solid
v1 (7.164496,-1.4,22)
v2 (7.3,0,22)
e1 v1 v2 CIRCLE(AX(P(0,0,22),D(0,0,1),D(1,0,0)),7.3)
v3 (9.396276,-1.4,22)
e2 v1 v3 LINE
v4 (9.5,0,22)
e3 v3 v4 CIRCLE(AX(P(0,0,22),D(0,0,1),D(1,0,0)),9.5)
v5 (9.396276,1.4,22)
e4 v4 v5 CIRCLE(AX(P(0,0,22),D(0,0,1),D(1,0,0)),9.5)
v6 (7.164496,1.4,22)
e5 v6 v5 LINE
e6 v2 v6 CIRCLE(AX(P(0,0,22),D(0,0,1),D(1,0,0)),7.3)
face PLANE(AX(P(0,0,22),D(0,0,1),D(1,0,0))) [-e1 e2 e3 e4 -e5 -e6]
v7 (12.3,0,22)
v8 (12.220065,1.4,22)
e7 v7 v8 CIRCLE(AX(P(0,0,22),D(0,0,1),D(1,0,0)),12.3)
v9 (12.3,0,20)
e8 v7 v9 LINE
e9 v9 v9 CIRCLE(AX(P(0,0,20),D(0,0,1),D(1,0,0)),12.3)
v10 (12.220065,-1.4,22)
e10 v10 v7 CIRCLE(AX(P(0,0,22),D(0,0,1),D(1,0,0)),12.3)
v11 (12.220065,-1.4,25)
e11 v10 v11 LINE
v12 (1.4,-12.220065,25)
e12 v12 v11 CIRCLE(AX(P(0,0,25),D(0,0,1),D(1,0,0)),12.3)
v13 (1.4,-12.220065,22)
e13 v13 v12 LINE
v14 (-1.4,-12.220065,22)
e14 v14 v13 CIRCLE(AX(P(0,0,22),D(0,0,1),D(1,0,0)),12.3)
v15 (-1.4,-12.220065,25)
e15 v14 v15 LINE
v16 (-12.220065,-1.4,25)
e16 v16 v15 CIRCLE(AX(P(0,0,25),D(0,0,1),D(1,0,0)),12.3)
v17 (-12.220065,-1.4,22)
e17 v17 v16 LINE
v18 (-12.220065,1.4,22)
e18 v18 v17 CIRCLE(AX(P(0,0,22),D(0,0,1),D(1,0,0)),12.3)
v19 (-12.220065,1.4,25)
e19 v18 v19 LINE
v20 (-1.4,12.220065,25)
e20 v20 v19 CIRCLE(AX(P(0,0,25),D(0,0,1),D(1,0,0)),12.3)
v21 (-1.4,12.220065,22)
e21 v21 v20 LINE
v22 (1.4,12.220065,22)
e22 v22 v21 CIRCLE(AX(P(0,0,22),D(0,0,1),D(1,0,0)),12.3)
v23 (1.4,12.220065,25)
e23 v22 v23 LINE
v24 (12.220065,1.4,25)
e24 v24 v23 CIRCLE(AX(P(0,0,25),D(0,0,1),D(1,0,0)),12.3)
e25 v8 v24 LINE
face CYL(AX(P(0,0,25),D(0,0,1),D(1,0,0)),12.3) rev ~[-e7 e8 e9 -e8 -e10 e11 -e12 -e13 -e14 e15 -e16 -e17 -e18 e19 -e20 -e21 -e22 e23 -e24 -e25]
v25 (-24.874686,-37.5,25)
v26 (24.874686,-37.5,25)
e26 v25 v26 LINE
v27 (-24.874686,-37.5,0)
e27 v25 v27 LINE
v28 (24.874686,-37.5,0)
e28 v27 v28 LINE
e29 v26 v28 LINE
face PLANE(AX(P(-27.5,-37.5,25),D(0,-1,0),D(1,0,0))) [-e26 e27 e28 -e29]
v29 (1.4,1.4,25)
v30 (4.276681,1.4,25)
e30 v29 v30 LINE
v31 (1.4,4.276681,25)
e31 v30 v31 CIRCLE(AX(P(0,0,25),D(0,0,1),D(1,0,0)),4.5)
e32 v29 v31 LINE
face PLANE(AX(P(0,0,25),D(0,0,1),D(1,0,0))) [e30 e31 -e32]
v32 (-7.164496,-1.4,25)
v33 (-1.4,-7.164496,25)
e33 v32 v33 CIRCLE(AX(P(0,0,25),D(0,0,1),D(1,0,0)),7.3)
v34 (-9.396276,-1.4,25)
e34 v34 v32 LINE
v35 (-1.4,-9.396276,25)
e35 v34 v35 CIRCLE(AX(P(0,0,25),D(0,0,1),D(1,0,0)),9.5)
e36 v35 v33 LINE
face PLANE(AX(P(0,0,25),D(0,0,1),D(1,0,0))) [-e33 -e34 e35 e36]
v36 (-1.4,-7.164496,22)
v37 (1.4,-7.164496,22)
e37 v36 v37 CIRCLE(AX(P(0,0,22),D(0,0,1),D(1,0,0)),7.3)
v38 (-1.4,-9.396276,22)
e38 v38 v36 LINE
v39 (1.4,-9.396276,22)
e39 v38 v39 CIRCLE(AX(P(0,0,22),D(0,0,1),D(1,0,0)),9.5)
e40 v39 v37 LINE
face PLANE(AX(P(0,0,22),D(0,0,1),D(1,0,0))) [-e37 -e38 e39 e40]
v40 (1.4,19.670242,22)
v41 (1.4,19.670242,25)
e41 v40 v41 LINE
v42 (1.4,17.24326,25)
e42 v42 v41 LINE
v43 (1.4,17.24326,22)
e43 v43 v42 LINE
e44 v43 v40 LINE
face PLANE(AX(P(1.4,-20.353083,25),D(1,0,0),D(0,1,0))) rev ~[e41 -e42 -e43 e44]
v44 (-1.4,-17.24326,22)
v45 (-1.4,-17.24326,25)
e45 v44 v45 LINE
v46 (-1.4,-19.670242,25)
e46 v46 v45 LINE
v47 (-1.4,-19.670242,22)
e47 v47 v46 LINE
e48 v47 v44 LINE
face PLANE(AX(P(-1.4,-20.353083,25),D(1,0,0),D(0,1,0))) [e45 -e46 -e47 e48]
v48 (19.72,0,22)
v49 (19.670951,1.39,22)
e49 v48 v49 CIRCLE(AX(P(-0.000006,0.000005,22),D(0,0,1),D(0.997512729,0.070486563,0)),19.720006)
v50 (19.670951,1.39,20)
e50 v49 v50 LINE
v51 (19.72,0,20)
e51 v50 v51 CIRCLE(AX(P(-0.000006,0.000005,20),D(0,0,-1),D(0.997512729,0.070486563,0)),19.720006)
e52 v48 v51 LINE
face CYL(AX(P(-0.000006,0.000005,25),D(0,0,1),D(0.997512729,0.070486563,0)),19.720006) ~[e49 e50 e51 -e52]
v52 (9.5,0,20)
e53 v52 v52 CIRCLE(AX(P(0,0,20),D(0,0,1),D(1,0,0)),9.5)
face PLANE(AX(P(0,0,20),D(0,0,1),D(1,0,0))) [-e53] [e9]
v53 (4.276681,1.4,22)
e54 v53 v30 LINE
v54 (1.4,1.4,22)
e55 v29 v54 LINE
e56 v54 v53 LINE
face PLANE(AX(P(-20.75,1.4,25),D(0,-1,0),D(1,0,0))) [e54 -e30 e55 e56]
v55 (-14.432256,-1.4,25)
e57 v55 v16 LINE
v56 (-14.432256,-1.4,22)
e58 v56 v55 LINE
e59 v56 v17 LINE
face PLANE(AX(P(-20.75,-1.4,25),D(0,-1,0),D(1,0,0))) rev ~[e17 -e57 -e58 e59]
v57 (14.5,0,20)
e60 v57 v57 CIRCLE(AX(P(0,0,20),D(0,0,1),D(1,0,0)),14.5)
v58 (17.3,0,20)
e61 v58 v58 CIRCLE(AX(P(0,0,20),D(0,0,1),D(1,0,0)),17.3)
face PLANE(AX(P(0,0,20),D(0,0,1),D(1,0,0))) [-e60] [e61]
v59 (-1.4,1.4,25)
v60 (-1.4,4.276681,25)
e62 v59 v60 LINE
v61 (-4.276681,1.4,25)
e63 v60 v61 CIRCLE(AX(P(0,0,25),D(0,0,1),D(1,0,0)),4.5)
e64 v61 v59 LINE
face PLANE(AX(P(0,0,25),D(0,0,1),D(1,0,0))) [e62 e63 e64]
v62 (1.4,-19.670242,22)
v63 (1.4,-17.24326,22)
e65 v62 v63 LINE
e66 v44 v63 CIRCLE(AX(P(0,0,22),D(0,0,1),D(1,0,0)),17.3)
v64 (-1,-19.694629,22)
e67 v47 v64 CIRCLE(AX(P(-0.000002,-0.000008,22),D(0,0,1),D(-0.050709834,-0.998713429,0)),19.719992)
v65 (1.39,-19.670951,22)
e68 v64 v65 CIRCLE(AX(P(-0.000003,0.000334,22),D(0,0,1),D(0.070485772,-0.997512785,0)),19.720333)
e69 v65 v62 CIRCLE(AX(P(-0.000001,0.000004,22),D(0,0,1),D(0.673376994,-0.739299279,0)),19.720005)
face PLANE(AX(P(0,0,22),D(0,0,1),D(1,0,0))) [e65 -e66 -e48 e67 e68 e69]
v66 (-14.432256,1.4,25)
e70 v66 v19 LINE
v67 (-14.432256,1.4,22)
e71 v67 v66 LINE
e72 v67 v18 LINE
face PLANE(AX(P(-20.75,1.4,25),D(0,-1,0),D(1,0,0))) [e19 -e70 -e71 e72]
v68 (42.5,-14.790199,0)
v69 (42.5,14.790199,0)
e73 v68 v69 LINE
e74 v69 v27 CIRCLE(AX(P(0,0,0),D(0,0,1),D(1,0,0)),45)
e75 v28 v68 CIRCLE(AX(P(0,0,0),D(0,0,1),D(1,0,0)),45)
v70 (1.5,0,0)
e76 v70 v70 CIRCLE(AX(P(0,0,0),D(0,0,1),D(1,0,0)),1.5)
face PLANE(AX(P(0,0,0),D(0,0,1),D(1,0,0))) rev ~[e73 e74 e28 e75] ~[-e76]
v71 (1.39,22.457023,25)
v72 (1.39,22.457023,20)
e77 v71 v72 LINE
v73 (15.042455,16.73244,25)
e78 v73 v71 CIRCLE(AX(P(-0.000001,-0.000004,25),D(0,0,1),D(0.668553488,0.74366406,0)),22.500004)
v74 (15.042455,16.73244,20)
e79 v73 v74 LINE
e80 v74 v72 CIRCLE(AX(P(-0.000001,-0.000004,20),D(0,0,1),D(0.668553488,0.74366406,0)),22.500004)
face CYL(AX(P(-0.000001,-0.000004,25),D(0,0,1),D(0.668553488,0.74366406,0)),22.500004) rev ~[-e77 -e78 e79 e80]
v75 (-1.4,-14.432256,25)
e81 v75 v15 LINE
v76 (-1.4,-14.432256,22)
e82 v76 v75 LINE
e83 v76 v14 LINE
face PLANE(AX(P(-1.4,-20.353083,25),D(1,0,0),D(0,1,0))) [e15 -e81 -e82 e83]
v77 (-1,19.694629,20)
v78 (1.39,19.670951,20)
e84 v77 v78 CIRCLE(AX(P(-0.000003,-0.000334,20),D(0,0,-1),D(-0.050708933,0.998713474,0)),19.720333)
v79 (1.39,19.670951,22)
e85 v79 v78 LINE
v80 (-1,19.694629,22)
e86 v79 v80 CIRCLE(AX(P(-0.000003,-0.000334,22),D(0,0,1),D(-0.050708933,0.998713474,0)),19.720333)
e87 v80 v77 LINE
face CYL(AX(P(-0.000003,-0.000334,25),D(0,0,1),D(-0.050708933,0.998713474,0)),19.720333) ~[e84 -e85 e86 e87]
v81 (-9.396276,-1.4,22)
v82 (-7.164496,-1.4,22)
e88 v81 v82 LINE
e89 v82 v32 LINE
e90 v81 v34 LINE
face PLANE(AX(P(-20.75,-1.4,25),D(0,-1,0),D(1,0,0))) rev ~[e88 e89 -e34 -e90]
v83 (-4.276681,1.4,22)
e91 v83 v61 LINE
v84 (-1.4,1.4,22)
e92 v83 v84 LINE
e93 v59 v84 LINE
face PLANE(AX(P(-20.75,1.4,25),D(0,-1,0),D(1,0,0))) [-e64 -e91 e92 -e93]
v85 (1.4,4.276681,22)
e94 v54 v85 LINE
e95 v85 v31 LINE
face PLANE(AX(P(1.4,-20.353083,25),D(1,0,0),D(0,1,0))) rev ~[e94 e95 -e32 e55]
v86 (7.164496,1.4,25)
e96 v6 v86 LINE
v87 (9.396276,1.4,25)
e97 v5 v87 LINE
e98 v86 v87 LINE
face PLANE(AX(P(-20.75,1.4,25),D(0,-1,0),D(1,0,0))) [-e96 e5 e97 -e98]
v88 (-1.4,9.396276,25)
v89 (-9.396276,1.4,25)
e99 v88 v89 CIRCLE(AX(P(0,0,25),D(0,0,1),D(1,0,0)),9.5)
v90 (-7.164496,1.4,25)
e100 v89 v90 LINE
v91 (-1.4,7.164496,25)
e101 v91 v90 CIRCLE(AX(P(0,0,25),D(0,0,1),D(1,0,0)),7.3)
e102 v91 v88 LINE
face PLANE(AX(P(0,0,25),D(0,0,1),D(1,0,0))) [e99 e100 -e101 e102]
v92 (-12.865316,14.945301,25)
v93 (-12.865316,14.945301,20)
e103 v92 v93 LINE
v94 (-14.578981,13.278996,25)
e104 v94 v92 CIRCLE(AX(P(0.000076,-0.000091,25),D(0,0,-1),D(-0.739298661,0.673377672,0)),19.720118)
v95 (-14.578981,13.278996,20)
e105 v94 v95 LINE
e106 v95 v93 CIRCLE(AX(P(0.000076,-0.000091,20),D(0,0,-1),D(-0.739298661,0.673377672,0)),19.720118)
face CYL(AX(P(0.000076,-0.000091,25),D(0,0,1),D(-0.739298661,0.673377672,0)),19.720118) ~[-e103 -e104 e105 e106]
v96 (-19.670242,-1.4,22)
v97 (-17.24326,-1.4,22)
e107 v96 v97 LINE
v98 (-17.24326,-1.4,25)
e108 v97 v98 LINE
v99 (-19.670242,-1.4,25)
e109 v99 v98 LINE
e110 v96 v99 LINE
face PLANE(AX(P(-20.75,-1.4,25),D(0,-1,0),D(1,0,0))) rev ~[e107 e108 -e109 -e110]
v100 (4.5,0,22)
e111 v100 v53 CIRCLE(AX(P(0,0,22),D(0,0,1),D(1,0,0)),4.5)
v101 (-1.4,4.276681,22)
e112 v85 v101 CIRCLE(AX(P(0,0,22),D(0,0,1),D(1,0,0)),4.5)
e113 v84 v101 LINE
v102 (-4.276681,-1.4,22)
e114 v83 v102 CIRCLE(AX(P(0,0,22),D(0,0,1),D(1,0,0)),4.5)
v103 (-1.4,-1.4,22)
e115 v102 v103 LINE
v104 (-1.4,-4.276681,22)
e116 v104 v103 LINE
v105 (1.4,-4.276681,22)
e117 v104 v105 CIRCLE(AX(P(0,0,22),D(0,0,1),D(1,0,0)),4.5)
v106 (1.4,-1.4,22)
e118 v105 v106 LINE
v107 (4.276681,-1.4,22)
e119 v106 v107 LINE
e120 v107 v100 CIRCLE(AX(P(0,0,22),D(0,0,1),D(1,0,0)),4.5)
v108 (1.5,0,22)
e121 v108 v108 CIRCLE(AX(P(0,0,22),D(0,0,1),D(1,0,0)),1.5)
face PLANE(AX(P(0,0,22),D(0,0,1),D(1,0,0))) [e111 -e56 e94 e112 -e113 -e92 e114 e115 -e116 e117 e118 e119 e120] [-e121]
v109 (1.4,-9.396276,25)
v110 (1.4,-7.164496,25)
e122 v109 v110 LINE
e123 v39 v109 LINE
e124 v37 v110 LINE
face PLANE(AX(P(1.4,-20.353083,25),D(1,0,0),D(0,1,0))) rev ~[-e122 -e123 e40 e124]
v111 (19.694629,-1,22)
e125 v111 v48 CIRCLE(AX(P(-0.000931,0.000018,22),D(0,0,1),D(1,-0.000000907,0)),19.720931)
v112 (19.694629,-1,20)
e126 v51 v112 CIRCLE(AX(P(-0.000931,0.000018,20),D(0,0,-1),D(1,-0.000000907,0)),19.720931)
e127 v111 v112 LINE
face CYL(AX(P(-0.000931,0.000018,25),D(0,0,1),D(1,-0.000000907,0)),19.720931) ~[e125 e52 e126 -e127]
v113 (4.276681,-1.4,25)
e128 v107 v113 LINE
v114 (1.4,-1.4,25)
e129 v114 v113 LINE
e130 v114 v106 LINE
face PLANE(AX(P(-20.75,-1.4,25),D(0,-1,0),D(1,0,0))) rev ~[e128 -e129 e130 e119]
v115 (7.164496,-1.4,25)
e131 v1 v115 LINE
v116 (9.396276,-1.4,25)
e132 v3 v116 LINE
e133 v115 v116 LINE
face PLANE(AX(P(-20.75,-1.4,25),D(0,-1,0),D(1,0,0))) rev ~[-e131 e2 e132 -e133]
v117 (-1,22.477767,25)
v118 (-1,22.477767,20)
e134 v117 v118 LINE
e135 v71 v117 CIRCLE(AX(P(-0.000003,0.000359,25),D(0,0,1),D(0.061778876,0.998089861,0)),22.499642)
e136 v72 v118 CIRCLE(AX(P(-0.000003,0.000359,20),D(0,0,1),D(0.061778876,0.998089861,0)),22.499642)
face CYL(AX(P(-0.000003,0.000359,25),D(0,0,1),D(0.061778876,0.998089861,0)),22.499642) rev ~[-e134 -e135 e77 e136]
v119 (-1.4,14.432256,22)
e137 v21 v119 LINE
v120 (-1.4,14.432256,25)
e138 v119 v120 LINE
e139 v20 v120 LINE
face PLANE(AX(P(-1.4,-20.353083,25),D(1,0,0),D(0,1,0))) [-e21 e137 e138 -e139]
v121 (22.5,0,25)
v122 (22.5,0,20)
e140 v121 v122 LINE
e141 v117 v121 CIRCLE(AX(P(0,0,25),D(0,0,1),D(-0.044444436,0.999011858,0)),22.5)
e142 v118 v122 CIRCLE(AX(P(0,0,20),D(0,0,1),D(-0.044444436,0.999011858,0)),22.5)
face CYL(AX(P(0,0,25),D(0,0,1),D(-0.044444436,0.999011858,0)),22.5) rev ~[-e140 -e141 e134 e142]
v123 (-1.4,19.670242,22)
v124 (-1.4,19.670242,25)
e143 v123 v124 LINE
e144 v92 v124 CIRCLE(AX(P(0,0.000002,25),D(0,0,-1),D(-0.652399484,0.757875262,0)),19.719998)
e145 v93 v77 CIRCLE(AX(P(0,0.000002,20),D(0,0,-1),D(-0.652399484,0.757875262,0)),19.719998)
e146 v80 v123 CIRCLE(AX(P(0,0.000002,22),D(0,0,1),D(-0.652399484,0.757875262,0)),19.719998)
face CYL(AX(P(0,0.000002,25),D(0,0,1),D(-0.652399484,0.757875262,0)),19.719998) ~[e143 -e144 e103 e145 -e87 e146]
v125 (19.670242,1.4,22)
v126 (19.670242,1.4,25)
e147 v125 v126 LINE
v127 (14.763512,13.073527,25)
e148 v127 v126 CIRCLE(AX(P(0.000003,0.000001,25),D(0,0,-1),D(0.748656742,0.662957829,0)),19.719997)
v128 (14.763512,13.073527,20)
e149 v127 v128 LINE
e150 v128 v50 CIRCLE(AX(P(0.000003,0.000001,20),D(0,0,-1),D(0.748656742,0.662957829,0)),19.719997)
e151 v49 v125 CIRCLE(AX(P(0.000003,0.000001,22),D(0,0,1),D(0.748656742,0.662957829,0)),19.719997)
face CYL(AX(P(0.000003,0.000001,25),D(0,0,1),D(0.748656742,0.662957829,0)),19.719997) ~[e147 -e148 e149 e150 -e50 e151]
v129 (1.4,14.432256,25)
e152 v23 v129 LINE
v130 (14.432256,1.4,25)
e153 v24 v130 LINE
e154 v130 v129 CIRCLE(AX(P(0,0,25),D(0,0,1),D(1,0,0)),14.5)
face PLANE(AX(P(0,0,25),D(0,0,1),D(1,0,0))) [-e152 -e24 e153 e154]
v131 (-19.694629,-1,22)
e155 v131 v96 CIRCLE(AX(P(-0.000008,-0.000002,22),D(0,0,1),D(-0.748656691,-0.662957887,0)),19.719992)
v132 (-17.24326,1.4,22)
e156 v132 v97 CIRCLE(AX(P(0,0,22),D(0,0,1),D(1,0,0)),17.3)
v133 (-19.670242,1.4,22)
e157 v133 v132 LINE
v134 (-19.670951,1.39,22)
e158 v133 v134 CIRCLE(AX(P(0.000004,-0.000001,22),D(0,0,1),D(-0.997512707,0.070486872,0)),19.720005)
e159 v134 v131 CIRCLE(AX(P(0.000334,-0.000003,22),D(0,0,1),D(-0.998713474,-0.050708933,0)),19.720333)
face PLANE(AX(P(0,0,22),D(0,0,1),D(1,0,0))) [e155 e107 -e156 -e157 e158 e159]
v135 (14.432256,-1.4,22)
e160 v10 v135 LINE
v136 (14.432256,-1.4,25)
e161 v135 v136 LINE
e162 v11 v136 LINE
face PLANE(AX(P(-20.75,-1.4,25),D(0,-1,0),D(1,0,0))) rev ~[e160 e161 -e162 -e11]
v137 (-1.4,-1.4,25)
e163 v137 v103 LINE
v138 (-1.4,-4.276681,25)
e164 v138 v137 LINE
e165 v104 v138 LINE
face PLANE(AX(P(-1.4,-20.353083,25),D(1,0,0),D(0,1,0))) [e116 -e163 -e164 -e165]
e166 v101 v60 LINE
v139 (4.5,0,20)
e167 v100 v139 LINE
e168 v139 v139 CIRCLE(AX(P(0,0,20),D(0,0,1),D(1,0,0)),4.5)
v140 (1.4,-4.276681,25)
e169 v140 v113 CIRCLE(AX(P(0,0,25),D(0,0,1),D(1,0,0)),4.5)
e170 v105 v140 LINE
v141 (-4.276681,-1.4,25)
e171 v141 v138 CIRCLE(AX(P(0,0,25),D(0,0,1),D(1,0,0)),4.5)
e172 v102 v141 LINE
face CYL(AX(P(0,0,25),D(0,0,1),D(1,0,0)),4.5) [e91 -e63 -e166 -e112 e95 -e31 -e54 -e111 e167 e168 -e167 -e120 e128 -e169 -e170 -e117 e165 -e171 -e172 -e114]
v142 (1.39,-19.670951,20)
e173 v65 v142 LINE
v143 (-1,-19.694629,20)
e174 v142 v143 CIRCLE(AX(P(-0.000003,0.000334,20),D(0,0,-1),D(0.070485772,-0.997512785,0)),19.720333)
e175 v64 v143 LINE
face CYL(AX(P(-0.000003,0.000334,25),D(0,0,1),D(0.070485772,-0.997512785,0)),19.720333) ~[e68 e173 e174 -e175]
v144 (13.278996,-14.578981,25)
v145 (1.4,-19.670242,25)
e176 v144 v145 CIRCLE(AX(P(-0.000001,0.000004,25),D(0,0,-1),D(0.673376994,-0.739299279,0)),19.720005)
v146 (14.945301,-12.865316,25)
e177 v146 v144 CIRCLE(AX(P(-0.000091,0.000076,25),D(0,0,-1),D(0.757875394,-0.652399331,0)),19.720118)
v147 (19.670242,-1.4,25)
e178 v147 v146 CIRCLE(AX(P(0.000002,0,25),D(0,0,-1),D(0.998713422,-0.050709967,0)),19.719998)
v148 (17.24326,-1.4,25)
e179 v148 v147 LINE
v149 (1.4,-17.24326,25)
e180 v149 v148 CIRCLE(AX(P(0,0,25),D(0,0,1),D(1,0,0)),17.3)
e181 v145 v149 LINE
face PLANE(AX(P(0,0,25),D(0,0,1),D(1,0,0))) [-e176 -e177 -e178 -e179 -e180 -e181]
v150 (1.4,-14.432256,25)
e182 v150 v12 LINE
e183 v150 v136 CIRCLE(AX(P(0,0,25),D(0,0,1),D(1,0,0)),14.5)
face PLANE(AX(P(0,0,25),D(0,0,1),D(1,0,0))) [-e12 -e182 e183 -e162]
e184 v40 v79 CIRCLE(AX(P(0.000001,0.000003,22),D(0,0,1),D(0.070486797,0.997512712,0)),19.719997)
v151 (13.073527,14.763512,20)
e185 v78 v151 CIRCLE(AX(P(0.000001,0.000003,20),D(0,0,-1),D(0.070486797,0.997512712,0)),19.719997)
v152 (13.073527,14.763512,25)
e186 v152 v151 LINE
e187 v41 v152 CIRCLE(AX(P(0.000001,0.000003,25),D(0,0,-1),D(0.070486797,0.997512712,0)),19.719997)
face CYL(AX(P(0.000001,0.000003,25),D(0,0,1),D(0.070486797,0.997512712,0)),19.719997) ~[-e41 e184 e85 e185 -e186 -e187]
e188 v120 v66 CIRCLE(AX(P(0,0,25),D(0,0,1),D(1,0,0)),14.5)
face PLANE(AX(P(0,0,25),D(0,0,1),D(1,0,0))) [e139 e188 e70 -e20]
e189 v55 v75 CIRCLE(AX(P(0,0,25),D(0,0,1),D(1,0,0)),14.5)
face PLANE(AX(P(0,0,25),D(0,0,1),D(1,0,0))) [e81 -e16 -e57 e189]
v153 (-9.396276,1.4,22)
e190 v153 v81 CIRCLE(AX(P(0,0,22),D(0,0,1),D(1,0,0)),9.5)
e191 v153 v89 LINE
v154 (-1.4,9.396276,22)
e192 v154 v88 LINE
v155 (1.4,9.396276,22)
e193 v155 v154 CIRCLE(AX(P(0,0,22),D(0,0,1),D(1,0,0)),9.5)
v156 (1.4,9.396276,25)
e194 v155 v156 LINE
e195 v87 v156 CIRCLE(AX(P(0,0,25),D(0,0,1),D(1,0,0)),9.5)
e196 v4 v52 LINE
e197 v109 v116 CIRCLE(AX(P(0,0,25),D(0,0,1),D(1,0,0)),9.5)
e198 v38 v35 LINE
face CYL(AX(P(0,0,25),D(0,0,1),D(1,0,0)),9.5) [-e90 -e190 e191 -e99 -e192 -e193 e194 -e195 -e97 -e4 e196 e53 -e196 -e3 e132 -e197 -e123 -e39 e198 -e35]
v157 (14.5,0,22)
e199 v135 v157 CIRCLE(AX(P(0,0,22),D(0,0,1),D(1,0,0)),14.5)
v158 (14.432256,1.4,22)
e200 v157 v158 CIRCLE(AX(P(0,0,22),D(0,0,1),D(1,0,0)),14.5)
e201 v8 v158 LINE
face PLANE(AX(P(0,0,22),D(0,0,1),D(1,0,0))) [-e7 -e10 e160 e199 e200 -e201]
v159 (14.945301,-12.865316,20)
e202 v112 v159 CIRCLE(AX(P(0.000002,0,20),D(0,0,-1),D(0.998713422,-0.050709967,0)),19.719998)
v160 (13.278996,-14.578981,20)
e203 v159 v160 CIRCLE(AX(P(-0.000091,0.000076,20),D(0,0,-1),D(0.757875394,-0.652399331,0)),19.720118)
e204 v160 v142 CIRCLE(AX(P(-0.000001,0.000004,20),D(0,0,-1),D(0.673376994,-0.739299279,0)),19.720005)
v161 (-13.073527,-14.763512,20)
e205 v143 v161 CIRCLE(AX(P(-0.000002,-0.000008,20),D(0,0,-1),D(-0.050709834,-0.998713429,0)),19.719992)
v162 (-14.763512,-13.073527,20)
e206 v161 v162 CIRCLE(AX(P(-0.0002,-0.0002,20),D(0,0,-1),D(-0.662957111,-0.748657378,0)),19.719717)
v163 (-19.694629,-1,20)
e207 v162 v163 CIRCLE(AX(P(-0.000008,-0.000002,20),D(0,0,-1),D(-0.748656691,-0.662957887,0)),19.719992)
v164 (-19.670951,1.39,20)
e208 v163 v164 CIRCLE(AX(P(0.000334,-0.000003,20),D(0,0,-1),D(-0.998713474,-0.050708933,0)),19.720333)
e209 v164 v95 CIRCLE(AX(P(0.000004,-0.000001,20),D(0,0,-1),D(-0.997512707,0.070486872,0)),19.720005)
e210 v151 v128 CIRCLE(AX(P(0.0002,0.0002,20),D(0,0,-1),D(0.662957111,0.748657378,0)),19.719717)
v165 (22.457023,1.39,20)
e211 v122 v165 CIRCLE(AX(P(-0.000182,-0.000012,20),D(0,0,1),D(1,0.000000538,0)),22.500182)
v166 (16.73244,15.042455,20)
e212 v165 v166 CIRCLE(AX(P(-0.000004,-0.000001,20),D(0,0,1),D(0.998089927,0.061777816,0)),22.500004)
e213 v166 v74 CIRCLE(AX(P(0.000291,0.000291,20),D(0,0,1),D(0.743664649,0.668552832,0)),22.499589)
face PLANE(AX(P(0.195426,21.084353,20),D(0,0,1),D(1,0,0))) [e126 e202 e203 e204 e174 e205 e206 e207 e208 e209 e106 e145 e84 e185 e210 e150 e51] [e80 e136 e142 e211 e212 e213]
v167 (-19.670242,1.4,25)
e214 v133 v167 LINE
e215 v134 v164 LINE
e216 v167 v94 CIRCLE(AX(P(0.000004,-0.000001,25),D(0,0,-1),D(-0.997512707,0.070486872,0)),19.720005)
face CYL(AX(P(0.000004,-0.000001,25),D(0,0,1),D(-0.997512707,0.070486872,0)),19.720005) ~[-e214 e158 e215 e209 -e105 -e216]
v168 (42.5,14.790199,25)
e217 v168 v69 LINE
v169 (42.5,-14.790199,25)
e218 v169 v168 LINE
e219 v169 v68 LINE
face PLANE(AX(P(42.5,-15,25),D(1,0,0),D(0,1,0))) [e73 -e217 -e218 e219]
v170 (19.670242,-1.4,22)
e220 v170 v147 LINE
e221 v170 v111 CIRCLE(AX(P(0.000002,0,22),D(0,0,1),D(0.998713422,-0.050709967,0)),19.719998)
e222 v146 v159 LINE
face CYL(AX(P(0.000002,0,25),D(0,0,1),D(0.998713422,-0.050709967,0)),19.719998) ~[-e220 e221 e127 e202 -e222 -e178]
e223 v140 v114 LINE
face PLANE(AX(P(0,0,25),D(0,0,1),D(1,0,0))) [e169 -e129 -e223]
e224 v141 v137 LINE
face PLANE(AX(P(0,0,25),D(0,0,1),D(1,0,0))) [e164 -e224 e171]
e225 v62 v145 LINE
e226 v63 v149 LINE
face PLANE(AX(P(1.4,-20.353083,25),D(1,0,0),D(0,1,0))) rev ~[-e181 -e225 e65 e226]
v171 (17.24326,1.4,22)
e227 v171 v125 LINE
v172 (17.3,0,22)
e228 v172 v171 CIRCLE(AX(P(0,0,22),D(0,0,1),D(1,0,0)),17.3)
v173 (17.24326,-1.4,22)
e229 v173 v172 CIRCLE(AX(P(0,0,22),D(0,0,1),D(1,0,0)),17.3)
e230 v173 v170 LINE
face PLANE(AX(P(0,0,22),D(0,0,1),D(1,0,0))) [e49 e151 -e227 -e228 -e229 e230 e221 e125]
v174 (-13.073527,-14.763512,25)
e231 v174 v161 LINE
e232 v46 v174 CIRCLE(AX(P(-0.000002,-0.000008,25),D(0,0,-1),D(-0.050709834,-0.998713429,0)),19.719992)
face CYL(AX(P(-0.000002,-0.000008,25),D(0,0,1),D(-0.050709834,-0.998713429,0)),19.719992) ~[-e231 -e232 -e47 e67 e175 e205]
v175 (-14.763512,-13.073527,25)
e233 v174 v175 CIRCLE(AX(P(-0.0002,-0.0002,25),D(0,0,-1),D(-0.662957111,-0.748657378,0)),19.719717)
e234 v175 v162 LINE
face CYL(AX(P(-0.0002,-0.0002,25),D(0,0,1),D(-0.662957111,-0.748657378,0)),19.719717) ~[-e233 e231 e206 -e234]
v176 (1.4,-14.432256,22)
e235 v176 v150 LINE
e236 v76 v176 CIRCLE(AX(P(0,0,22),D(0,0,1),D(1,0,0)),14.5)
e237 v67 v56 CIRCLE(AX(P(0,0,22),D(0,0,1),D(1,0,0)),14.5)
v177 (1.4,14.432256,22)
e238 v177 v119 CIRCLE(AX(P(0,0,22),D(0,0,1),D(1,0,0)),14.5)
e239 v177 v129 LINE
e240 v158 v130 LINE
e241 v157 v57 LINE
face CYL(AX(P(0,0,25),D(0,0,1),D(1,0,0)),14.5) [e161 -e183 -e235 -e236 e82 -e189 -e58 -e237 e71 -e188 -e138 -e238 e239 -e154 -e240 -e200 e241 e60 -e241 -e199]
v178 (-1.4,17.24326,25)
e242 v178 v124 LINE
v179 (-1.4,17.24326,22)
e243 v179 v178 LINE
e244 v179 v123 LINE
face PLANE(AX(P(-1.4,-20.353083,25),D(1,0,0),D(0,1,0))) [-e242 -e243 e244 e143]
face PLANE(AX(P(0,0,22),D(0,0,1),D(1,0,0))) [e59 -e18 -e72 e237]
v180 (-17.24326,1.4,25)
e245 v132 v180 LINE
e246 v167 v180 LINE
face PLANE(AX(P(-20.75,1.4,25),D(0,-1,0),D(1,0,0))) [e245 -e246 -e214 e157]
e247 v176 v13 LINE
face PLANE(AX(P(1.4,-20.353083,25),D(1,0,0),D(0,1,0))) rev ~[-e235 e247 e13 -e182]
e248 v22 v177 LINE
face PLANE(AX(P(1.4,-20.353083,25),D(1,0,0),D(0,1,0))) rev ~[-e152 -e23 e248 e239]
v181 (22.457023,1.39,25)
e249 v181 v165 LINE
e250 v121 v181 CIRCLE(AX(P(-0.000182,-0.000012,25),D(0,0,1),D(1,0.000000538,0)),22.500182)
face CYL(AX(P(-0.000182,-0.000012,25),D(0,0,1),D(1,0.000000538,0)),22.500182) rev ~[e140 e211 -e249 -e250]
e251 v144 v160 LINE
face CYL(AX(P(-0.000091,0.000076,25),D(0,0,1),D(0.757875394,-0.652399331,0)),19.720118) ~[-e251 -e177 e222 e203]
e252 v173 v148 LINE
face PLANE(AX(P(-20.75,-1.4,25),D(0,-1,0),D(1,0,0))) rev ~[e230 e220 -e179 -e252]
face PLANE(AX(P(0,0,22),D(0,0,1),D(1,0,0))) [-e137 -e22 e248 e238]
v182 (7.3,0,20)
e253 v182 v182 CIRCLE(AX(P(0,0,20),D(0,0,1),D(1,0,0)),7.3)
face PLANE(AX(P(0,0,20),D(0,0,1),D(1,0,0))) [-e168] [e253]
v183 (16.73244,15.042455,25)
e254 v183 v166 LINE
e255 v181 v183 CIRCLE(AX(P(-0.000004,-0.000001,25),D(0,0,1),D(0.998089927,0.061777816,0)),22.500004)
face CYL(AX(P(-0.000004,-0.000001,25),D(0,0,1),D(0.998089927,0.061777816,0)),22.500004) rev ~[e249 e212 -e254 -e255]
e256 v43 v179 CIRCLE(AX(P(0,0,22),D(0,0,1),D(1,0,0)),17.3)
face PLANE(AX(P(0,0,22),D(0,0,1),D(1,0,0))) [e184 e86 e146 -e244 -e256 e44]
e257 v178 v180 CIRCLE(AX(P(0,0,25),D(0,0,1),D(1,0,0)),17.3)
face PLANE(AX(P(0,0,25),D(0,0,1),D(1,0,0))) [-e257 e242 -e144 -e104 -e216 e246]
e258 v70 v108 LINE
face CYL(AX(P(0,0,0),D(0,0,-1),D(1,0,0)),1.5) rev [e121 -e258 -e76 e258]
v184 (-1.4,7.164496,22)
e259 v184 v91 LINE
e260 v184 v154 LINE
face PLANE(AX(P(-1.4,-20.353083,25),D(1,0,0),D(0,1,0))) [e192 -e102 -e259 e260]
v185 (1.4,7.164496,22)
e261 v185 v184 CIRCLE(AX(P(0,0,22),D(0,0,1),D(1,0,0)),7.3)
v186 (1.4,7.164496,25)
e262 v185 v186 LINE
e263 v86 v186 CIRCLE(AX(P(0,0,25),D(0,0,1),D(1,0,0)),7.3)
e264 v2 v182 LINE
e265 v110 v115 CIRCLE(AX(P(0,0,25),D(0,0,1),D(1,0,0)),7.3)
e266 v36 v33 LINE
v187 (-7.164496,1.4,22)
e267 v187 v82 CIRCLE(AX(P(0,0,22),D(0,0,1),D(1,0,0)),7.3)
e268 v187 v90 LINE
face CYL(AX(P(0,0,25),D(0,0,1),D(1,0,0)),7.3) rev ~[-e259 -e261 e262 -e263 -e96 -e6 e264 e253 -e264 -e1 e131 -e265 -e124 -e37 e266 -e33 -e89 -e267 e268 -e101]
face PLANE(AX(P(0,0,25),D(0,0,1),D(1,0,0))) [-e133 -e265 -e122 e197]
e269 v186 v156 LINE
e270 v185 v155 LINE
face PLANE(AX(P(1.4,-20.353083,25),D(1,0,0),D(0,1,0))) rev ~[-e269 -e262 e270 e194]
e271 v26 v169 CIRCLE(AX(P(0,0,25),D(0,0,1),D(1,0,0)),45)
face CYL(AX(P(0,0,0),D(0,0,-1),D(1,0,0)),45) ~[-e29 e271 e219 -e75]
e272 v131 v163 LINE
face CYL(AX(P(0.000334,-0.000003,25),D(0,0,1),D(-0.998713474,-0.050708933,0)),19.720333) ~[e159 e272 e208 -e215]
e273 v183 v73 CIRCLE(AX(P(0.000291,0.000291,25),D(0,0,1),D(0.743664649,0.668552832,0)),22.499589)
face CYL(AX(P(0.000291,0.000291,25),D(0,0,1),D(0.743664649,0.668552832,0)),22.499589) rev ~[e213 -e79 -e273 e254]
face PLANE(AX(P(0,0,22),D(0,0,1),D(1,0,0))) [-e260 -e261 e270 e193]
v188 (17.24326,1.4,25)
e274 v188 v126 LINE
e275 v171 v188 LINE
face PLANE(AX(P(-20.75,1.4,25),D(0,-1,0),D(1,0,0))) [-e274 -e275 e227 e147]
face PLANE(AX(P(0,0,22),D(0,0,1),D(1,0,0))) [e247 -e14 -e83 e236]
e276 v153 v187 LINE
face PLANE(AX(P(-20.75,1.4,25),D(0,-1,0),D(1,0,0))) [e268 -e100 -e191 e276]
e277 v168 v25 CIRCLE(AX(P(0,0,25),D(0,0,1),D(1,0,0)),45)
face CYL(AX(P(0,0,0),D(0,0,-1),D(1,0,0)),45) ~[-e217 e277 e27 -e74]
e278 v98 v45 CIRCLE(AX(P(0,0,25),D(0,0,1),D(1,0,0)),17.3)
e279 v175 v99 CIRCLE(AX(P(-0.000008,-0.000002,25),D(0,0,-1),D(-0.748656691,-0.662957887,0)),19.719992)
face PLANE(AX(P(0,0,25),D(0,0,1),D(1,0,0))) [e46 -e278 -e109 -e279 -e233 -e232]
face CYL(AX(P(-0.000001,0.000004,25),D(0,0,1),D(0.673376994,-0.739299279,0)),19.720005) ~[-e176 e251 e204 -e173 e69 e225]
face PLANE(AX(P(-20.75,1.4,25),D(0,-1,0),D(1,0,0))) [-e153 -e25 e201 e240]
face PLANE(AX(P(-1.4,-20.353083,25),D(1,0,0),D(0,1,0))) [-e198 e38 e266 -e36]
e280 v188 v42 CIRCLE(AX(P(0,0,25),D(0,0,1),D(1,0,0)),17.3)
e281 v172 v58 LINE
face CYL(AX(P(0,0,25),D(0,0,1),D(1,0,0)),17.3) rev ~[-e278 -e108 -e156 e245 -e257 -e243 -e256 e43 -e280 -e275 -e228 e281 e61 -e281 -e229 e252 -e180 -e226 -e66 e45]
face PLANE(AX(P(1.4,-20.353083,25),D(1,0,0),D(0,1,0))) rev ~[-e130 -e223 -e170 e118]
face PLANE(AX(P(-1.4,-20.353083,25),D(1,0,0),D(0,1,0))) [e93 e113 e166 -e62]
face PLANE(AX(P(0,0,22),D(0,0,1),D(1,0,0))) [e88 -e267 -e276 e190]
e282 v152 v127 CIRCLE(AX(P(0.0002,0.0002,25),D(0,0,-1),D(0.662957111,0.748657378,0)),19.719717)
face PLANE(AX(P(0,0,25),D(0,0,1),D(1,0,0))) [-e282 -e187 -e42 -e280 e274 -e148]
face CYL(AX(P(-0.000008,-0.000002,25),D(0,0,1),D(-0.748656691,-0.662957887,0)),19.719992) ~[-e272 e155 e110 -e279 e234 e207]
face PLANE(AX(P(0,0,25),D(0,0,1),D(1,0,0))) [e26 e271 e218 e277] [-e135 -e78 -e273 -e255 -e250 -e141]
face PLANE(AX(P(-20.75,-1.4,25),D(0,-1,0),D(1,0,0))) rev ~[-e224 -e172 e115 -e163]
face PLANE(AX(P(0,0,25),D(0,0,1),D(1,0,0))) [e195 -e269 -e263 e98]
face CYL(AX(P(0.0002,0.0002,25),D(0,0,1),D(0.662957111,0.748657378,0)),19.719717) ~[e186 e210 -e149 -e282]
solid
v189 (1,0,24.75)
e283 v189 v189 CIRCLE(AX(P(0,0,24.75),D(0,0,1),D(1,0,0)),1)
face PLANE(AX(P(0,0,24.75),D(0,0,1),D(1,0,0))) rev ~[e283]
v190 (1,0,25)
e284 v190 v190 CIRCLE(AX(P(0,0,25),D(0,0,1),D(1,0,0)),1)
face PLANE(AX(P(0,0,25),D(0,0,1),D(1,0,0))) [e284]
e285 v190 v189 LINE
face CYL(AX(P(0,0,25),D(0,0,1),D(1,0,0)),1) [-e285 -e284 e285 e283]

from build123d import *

# Parameters (mm, degrees)
F0_R      = 45
F0_R_2    = 1.5
F1_DEPTH  = 25
F3_DEPTH  = 5
F4_R      = 7.3
F4_R_2    = 4.5
F5_DEPTH  = 5
F6_R      = 12.3
F6_R_2    = 9.5
F7_DEPTH  = 5
F8_R      = 17.3
F8_R_2    = 14.5
F9_DEPTH  = 5
F10_W     = 2.8
F10_H     = 40.706166
F11_W     = 41.5
F11_H     = 2.8
F12_DEPTH = 3
F13_W     = 55
F13_H     = 15
F13_W_2   = 5
F13_H_2   = 30
F14_DEPTH = 25
F15_R     = 1
F16_DEPTH = 0.25


with BuildPart() as f1:
    # F0 (on Top) → F1 (new body)
    with BuildSketch(Plane.XY):
        Circle(F0_R)
        Circle(F0_R_2, mode=Mode.SUBTRACT)
    extrude(amount=F1_DEPTH)

    # F2 (on face) → F3 (cut)
    with BuildSketch(Plane.XY.offset(25)):
        with BuildLine():
            Line((1.39, 19.670951), (1.39, 22.457023))
            ThreePointArc((1.39, 22.457023), (0.195276, 22.499153), (-1, 22.477767))
            Line((-1, 22.477767), (-1, 19.694629))
            ThreePointArc((-1, 19.694629), (0.195359, 19.719032), (1.39, 19.670951))
        make_face()
        with BuildLine():
            ThreePointArc((15.042455, 16.73244), (8.700523, 20.74972), (1.39, 22.457023))
            Line((1.39, 22.457023), (1.39, 19.670951))
            ThreePointArc((1.39, 19.670951), (7.636697, 18.181289), (13.073527, 14.763512))
            Line((13.073527, 14.763512), (15.042455, 16.73244))
        make_face()
        with BuildLine():
            Line((-1, 19.694629), (-1, 22.477767))
            ThreePointArc((-1, 22.477767), (-15.552331, -16.259613), (22.5, 0))
            ThreePointArc((22.5, 0), (22.489253, 0.695332), (22.457023, 1.39))
            Line((22.457023, 1.39), (19.670951, 1.39))
            ThreePointArc((19.670951, 1.39), (19.707734, 0.695433), (19.72, 0))
            ThreePointArc((19.72, 0), (19.713656, -0.500161), (19.694629, -1))
            ThreePointArc((19.694629, -1), (18.307857, -7.328081), (14.945301, -12.865316))
            ThreePointArc((14.945301, -12.865316), (14.138136, -13.747418), (13.278996, -14.578981))
            ThreePointArc((13.278996, -14.578981), (7.76382, -18.127369), (1.39, -19.670951))
            ThreePointArc((1.39, -19.670951), (0.195359, -19.719032), (-1, -19.694629))
            ThreePointArc((-1, -19.694629), (-7.456207, -18.256051), (-13.073527, -14.763512))
            ThreePointArc((-13.073527, -14.763512), (-13.944146, -13.944146), (-14.763512, -13.073527))
            ThreePointArc((-14.763512, -13.073527), (-18.256051, -7.456207), (-19.694629, -1))
            ThreePointArc((-19.694629, -1), (-19.719032, 0.195359), (-19.670951, 1.39))
            ThreePointArc((-19.670951, 1.39), (-18.127369, 7.76382), (-14.578981, 13.278996))
            ThreePointArc((-14.578981, 13.278996), (-13.747418, 14.138136), (-12.865316, 14.945301))
            ThreePointArc((-12.865316, 14.945301), (-7.328081, 18.307857), (-1, 19.694629))
        make_face()
        with BuildLine():
            ThreePointArc((16.73244, 15.042455), (15.909903, 15.909903), (15.042455, 16.73244))
            Line((15.042455, 16.73244), (13.073527, 14.763512))
            ThreePointArc((13.073527, 14.763512), (13.944146, 13.944146), (14.763512, 13.073527))
            Line((14.763512, 13.073527), (16.73244, 15.042455))
        make_face()
        with BuildLine():
            ThreePointArc((22.457023, 1.39), (20.74972, 8.700523), (16.73244, 15.042455))
            Line((16.73244, 15.042455), (14.763512, 13.073527))
            ThreePointArc((14.763512, 13.073527), (18.181289, 7.636697), (19.670951, 1.39))
            Line((19.670951, 1.39), (22.457023, 1.39))
        make_face()
    extrude(amount=-F3_DEPTH, mode=Mode.SUBTRACT)

    # F4 (on face) → F5 (cut)
    with BuildSketch(Plane.XY.offset(25)):
        Circle(F4_R)
        Circle(F4_R_2, mode=Mode.SUBTRACT)
    extrude(amount=-F5_DEPTH, mode=Mode.SUBTRACT)

    # F6 (on face) → F7 (cut)
    with BuildSketch(Plane.XY.offset(25)):
        Circle(F6_R)
        Circle(F6_R_2, mode=Mode.SUBTRACT)
    extrude(amount=-F7_DEPTH, mode=Mode.SUBTRACT)

    # F8 (on face) → F9 (cut)
    with BuildSketch(Plane.XY.offset(25)):
        Circle(F8_R)
        Circle(F8_R_2, mode=Mode.SUBTRACT)
    extrude(amount=-F9_DEPTH, mode=Mode.SUBTRACT)

    # F10 (on face) + F11 (on face) → F12 (cut)
    with BuildSketch(Plane.XY.offset(25)):
        Rectangle(F10_W, F10_H)
    with BuildSketch(Plane.XY.offset(25)):
        Rectangle(F11_W, F11_H)
    extrude(amount=-F12_DEPTH, mode=Mode.SUBTRACT)

    # F13 (on face) → F14 (cut)
    with BuildSketch(Plane.XY.offset(25)):
        with Locations((0, -45)):
            Rectangle(F13_W, F13_H)
        with Locations((45, 0)):
            Rectangle(F13_W_2, F13_H_2)
    extrude(amount=-F14_DEPTH, mode=Mode.SUBTRACT)


with BuildPart() as f16:
    # F15 (on face) → F16 (new body)
    with BuildSketch(Plane.XY.offset(25)):
        Circle(F15_R)
    extrude(amount=-F16_DEPTH)


solid = Compound([f1.part, f16.part])
